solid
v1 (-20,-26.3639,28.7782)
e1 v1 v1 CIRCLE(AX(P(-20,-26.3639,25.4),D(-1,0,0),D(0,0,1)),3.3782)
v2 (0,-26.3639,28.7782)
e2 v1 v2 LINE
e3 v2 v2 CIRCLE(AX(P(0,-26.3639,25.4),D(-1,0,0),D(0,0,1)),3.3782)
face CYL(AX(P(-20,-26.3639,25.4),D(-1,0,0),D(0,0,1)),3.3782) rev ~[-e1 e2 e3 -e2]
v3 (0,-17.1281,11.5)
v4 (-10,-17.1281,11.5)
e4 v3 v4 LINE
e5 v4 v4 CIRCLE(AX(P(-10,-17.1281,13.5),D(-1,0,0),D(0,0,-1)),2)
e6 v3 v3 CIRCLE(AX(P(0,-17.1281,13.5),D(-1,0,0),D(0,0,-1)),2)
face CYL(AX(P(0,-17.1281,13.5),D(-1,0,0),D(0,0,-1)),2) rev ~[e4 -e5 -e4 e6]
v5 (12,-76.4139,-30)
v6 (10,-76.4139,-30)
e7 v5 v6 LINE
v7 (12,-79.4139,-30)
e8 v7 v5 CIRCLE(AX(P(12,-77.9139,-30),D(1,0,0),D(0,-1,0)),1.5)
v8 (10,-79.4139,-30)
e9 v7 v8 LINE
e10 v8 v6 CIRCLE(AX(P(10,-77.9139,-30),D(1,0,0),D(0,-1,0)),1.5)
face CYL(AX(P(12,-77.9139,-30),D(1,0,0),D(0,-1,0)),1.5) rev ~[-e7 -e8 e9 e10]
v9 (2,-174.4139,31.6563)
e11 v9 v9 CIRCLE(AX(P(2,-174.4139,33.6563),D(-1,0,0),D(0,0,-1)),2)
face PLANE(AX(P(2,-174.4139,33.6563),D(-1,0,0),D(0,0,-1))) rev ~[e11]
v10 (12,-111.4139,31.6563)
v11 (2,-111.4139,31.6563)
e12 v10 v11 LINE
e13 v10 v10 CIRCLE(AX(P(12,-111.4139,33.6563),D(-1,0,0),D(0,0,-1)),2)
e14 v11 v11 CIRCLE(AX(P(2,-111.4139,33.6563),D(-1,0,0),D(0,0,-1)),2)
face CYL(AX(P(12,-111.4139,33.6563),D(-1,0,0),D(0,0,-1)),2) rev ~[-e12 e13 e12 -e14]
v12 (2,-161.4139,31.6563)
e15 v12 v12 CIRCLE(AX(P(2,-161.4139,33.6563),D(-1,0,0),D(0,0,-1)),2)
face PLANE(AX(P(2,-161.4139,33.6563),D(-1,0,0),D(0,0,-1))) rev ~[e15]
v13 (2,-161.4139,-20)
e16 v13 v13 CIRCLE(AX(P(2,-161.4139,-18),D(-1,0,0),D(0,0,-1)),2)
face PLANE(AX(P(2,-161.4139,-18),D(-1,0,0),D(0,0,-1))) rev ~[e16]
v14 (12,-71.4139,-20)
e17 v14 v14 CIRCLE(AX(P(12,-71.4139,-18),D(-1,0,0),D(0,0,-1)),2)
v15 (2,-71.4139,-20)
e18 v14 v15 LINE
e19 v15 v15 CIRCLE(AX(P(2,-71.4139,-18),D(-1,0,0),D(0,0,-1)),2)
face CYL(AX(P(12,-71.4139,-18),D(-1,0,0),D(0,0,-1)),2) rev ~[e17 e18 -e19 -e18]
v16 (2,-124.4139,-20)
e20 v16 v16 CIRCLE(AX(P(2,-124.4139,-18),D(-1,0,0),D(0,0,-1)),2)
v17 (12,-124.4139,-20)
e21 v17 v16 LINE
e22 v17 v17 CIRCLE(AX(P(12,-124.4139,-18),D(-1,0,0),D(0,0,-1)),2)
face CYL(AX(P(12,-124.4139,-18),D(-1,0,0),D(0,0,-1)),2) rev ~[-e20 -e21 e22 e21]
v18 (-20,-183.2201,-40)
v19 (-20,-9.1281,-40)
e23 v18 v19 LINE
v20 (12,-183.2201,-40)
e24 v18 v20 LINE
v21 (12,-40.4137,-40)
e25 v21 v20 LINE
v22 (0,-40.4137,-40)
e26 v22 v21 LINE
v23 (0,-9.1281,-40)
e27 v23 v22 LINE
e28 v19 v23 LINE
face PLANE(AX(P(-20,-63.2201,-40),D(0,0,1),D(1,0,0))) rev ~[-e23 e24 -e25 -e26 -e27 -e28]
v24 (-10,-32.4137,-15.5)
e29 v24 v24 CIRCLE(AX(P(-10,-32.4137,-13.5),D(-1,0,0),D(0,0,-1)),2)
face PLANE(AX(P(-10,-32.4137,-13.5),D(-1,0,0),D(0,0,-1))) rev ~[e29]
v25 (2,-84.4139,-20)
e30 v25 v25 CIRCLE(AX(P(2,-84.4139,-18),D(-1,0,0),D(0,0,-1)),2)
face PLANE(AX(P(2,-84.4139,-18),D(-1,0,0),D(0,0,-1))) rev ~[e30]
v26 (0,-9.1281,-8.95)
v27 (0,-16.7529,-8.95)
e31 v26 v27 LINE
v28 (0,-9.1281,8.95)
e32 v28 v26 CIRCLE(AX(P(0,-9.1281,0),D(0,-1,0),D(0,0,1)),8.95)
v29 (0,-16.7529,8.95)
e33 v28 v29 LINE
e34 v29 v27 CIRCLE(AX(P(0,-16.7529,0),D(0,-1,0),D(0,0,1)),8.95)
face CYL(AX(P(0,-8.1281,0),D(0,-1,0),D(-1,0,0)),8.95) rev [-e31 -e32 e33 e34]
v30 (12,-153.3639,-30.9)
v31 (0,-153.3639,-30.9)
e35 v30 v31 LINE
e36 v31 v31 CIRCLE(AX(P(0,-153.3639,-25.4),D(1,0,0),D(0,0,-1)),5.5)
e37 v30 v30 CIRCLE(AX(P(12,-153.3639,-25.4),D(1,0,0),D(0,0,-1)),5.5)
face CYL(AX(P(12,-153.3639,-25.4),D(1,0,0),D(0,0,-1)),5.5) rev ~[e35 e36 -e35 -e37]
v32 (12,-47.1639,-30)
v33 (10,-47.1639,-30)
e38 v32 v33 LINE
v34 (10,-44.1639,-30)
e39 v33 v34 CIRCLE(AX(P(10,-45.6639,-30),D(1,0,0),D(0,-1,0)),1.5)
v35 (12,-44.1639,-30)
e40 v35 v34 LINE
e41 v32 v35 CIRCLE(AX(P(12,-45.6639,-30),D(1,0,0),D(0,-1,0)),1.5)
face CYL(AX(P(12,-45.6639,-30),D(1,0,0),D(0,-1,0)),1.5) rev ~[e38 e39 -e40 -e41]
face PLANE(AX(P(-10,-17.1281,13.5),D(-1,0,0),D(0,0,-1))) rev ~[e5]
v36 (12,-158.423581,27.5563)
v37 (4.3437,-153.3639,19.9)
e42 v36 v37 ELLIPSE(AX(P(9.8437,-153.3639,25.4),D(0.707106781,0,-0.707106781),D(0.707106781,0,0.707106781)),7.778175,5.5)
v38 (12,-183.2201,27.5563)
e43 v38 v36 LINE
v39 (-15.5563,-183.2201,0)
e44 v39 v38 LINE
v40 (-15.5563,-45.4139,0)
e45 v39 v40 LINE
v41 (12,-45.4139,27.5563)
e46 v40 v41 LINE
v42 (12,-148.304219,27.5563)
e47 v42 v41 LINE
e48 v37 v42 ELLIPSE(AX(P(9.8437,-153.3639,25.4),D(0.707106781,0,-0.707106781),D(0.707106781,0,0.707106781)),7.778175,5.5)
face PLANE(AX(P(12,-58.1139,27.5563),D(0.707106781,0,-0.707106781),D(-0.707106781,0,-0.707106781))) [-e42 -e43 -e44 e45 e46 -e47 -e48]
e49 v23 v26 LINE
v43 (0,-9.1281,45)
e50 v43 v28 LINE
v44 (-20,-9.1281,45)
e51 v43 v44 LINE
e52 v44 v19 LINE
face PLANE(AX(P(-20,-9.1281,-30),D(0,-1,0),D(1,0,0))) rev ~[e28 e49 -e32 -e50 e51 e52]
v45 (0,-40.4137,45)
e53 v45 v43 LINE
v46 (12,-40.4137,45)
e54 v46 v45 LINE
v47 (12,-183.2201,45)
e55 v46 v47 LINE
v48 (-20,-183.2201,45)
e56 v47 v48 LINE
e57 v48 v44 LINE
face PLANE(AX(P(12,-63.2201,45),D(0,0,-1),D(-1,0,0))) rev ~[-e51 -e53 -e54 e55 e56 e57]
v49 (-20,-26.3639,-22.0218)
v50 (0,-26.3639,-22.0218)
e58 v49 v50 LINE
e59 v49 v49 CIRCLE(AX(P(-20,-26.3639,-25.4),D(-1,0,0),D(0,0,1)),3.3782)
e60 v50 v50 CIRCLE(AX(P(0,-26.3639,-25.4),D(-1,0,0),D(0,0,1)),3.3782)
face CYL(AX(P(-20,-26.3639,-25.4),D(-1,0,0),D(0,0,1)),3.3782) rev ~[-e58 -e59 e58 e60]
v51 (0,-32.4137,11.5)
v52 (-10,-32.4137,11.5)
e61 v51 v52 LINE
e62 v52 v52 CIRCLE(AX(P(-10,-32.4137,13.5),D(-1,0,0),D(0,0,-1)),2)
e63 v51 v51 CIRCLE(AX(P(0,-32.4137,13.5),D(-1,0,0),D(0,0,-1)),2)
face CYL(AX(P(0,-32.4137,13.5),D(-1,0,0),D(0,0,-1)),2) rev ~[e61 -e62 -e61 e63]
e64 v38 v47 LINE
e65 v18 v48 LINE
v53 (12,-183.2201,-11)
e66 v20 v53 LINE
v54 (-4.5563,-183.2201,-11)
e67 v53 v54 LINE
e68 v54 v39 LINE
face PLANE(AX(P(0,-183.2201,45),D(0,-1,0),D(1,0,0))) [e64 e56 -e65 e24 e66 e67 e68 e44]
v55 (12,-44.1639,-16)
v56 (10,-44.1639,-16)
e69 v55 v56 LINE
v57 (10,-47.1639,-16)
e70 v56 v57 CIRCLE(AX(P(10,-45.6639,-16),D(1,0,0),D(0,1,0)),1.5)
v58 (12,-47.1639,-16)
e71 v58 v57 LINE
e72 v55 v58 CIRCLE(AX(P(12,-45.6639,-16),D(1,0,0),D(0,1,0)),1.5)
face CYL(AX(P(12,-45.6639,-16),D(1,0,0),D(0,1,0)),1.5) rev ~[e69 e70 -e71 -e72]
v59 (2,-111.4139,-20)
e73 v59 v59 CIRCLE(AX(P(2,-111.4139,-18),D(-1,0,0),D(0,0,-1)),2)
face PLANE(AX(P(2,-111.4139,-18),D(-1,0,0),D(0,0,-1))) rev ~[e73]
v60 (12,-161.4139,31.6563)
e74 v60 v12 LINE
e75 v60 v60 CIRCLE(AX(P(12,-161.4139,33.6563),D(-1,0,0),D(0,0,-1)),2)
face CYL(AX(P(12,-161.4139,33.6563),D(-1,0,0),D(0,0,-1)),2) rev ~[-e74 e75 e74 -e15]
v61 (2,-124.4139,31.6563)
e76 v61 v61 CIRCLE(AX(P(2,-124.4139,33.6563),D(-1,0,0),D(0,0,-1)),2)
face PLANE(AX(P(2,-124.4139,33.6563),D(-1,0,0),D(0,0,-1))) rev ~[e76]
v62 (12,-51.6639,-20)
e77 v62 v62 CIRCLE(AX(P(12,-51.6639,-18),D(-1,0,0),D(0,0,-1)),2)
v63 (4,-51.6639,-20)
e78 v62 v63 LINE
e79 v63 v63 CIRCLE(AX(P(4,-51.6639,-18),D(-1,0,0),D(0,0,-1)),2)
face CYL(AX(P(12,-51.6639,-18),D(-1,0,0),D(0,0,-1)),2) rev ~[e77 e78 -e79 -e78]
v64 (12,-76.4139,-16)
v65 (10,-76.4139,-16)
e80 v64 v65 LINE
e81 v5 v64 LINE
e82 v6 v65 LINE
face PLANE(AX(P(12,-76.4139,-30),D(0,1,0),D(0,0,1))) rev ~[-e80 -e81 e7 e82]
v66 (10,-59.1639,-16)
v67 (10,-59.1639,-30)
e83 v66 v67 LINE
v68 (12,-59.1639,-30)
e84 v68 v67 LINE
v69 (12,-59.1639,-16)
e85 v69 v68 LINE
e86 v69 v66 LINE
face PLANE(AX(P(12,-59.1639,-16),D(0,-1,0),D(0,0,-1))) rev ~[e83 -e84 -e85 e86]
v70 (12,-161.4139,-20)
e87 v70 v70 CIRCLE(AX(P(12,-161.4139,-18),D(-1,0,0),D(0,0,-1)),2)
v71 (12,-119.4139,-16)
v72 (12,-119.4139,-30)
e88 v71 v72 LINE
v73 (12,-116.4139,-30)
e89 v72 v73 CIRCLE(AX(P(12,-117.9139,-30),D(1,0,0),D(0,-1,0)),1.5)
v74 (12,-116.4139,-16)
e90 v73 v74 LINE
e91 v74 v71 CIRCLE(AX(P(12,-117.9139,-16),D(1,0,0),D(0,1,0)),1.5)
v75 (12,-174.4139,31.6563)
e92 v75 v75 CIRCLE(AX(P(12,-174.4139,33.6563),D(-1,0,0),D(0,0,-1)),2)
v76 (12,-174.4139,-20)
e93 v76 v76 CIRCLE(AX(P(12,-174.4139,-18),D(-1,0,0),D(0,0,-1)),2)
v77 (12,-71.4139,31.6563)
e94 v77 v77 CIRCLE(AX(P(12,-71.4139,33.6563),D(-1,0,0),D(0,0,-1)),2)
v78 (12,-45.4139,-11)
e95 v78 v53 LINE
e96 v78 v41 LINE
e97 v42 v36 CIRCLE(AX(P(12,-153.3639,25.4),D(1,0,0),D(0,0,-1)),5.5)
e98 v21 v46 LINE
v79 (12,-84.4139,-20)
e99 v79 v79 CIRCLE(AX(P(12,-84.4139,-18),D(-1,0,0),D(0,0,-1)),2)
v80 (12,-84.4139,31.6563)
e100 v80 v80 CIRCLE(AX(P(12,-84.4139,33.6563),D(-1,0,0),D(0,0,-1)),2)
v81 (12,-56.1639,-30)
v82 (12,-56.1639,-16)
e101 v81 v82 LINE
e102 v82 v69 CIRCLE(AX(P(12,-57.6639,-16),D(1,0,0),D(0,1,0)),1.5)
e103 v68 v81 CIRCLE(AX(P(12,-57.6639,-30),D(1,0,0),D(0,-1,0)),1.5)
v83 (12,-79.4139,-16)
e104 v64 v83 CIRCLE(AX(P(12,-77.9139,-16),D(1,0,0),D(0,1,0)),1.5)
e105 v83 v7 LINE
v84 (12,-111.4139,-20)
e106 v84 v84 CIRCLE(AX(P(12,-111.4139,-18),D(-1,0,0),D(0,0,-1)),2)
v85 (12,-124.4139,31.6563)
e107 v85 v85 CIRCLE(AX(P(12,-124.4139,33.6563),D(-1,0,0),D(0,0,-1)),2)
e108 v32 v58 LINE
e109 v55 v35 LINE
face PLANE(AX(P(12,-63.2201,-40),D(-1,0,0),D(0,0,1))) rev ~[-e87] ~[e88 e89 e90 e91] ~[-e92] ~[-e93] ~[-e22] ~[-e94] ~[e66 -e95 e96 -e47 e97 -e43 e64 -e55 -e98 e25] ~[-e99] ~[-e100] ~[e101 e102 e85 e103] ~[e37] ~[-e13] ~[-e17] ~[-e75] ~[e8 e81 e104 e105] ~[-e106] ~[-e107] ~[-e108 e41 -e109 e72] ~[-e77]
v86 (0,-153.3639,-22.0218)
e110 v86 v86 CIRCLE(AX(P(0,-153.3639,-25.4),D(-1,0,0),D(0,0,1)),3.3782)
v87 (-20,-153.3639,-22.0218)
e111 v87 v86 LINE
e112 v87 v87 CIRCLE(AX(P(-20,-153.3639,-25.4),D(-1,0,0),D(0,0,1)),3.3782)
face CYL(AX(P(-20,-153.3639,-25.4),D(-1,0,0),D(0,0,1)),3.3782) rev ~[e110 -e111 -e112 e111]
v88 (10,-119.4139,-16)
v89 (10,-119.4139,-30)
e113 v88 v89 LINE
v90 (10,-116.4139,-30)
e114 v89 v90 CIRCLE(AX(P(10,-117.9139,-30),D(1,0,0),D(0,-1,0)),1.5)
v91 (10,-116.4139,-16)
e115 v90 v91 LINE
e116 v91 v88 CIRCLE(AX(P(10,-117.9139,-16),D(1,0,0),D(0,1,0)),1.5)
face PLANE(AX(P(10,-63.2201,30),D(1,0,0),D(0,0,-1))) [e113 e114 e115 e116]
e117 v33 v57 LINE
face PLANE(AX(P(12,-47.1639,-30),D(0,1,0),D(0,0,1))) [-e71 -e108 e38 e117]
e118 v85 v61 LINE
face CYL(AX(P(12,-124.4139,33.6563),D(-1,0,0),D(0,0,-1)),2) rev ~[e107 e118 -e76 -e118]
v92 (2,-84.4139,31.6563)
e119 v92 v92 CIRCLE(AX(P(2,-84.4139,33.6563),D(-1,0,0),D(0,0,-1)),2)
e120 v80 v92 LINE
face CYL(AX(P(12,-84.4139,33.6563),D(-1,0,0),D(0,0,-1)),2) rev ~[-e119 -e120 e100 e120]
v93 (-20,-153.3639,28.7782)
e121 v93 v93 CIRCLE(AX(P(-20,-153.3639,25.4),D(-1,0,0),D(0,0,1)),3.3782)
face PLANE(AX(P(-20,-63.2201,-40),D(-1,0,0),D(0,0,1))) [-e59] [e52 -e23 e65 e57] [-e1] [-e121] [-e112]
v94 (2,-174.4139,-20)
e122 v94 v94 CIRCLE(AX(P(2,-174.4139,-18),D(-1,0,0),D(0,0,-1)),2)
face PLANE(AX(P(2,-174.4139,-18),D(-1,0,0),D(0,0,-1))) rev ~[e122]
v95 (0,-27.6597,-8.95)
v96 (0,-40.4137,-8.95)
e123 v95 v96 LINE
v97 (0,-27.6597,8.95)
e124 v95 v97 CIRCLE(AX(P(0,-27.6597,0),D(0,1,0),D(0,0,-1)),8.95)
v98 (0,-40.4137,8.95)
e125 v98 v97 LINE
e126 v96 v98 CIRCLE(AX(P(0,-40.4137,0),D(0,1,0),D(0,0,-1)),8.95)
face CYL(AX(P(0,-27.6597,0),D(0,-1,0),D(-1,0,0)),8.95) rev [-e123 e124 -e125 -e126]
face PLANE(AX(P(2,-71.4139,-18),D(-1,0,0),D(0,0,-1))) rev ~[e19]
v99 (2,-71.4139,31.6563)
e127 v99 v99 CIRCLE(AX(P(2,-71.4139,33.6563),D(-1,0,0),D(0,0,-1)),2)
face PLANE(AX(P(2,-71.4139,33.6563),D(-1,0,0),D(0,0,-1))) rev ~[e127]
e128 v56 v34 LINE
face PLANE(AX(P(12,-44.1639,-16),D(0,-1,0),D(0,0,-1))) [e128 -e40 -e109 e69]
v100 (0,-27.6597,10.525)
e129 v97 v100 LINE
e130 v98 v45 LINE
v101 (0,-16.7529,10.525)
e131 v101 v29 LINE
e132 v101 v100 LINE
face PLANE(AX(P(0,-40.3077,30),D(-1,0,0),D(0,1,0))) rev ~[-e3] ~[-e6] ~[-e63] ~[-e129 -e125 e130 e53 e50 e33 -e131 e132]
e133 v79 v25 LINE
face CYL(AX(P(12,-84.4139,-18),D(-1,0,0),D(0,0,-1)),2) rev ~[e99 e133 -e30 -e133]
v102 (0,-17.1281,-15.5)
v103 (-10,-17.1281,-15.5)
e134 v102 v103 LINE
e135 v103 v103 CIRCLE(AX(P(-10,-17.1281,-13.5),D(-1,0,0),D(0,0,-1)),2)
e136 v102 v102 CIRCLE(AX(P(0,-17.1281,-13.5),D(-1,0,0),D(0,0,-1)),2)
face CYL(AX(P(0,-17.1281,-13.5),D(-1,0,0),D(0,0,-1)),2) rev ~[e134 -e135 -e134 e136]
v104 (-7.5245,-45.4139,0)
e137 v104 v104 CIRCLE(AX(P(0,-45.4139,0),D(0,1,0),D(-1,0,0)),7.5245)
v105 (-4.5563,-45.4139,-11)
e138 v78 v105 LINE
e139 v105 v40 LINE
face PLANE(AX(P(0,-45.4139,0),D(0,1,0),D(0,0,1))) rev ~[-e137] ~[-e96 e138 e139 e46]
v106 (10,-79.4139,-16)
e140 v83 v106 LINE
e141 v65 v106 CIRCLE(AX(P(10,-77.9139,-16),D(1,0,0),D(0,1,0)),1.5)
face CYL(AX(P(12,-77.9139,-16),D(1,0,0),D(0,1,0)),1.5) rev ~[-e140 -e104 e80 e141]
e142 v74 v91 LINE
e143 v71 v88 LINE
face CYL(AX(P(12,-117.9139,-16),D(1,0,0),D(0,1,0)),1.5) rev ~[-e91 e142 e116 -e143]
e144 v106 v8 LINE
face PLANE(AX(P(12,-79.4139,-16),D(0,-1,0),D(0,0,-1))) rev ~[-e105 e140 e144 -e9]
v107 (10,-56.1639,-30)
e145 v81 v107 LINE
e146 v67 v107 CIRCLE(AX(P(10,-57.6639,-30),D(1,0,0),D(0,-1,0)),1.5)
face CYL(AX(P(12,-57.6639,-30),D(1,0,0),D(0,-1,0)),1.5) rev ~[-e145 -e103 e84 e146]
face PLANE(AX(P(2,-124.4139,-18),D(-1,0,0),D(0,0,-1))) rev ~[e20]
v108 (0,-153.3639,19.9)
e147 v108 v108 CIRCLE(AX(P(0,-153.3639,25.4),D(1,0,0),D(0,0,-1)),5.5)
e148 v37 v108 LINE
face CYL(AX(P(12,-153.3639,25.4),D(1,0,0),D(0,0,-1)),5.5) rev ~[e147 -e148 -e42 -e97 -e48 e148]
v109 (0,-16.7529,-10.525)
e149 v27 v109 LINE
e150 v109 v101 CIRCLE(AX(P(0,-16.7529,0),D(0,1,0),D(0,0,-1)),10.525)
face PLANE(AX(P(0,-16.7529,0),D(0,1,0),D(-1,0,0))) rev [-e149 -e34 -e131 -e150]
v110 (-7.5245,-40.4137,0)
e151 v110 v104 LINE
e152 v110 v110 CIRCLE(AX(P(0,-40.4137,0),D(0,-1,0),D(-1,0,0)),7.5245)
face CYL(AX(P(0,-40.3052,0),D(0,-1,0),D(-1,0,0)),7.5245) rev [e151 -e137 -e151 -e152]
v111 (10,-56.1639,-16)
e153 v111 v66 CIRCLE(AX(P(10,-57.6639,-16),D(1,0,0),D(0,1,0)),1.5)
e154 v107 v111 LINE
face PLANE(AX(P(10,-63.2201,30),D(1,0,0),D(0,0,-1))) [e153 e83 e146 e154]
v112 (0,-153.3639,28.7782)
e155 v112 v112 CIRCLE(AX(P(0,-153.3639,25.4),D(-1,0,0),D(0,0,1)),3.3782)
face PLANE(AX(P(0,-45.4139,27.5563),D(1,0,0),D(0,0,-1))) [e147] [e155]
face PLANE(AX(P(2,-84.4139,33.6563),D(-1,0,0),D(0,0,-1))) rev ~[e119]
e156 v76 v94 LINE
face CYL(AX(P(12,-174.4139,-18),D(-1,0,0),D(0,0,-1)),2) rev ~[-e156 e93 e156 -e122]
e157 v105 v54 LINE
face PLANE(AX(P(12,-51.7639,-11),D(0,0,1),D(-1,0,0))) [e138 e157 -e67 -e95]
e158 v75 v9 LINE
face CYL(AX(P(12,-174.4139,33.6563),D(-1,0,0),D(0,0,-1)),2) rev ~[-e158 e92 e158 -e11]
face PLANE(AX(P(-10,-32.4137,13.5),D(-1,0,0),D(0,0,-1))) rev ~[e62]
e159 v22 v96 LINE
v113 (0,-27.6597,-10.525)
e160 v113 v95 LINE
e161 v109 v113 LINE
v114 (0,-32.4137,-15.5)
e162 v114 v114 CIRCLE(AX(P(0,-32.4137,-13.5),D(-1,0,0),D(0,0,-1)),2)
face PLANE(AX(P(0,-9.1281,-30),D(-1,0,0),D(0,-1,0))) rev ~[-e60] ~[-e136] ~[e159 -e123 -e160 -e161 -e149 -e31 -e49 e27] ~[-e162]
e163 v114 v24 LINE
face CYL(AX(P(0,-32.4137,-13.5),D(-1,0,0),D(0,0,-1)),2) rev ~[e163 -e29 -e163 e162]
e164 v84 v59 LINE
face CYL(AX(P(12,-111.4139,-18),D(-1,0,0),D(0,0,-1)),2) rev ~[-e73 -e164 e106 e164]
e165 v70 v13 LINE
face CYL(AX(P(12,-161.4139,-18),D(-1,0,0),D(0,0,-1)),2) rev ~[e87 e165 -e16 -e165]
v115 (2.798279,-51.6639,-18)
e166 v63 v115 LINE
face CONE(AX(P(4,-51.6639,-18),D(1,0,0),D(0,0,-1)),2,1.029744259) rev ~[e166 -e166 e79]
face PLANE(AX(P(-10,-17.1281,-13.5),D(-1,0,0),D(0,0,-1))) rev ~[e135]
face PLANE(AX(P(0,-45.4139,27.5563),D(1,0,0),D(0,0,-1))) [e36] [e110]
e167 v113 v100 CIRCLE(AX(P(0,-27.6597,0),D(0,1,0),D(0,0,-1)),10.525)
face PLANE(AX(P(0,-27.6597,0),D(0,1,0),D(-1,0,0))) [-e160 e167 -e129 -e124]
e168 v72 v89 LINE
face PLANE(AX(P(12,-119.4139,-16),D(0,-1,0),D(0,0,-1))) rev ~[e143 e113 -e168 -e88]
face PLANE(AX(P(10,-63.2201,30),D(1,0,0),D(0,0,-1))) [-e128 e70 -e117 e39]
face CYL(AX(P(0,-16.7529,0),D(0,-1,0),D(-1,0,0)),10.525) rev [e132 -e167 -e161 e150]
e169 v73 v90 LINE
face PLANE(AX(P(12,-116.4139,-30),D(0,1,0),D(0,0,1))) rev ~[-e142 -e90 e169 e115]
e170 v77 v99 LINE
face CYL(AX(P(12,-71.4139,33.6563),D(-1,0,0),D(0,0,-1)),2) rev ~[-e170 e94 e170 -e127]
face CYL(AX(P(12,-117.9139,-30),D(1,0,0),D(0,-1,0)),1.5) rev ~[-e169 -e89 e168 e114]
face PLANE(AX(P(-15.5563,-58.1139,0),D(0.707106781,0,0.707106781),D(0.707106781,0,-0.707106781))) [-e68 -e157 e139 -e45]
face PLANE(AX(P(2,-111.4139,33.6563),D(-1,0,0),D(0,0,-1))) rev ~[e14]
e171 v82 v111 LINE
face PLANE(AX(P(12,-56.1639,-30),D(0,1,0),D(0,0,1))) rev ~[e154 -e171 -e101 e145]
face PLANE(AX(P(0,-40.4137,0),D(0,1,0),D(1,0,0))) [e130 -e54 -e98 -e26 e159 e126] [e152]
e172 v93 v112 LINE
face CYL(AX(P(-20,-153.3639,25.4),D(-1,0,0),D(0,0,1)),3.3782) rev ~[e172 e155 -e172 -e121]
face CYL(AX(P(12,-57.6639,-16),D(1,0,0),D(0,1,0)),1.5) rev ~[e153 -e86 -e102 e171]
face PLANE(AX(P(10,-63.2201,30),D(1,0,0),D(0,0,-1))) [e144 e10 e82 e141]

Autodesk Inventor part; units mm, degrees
ref_plane "Work Plane1" through (0, 0, 0) normal (0, 0, 1) x (1, 0, 0)
sketch "Sketch1" plane through (0, 0, 0) normal (0, 0, 1) x (1, 0, 0)
  line L0 (0, 352.2455) -> (0, -445.9232) construction
  line L1 (-20, -9.1281) -> (0, -9.1281)
  line L2 (0, -9.1281) -> (0, -40.3077)
  line L3 (0, -89.1281) -> (-20, -89.1281)
  line L4 (-20, -89.1281) -> (-20, -9.1281)
  line L5 (8.89, -89.1281) -> (-8.89, -89.1281) construction
  line L6 (-18.4, -51.7639) -> (33.4, -51.7639) construction
  line L7 (0, -40.3077) -> (12, -40.3077)
  line L8 (12, -40.3077) -> (12, -63.2201)
  line L9 (12, -63.2201) -> (0, -63.2201)
  line L10 (-8.636, -40.3077) -> (8.636, -40.3077) construction
  line L11 (8.636, -63.2201) -> (-8.636, -63.2201) construction
  line L12 (0, -63.2201) -> (0, -89.1281)
  point P0 (0, 0)
  point P1 (0, -63.2201)
  dimension "d0" = 80
  dimension "d1" = 20
  dimension "d4" = 0
  dimension "d5" = 0
  dimension "d6" = 12
extrude "Main Block" add sketch "Sketch1" along normal mid plane 60
ref_plane "Work Plane2" through (0, -51.7639, 0) normal (0, 1, 0) x (0, 0, 1)
ref_plane "Work Plane3" through (-11, -58.2639, -11) normal (0, -1, 0) x (1, 0, 0)
sketch "Sketch3" plane through (0, -51.7639, 0) normal (0, 1, 0) x (0, 0, 1)
  circle A0 centre (0, 0) radius 11 construction
  line L0 (-30, -20) -> (-30, 12) construction
  line L1 (30, 12) -> (30, -20) construction
  line L2 (30, -20) -> (-30, -20) construction
  line L3 (-11, 12) -> (-11, -4.5563)
  line L4 (0, 18.4) -> (0, -26.4) construction
  line L5 (-11, -4.5563) -> (0, -15.5563)
  line L6 (0, -15.5563) -> (27.5563, 12)
  line L7 (-11, 12) -> (27.5563, 12)
  line L8 (-30, 12) -> (30, 12) projected
  point P0 (0, 0)
  dimension "d8" = 90
extrude "Cuvette Cutout" cut sketch "Sketch3" along normal mid plane 12.7
sketch "Sketch4" plane through (0, 0, 0) normal (0, 0, 1) x (1, 0, 0)
  line L0 (-20, -89.1281) -> (-20, -9.1281) construction
  line L1 (-20, -9.1281) -> (0, -9.1281) construction
  line L2 (0, -9.1281) -> (0, -40.3077) construction
  line L3 (0, -40.3077) -> (12, -40.3077) construction
  line L4 (12, -40.3077) -> (12, -45.4139) construction
  line L5 (12, -45.4139) -> (-15.5563, -45.4139) construction
  line L6 (-15.5563, -45.4139) -> (-15.5563, -58.1139) construction
  line L7 (-15.5563, -58.1139) -> (12, -58.1139) construction
  line L8 (12, -63.2201) -> (0, -63.2201) construction
  line L9 (0, -63.2201) -> (0, -89.1281) construction
  line L10 (0, -89.1281) -> (-20, -89.1281) construction
  line L11 (6.3373, -3.5336) -> (6.3373, -4.2956) construction
  line L12 (6.3373, -4.2956) -> (7.2136, -4.2956) construction
  line L13 (7.2136, -4.2956) -> (7.2136, -4.321) construction
  line L14 (7.2136, -4.321) -> (8.2067, -4.321) construction
  spline S0 degree 3 poles (8.2067, -4.321) (8.2067, -4.3168) (8.2067, -4.3125) (8.2067, -4.3041) (8.2067, -4.2998) (8.2067, -4.2956) knots -0.00254 -0.00254 -0.00254 -0.00254 -0.00127 -0.00127 0 0 0 0 construction
  line L15 (8.2067, -4.2956) -> (8.636, -4.2956) construction
  line L16 (8.636, -4.2956) -> (8.89, -4.5496) construction
  line L17 (8.89, -4.5496) -> (8.89, -17.5036) construction
  line L18 (8.89, -17.5036) -> (8.636, -17.7576) construction
  line L19 (8.636, -17.7576) -> (7.0485, -17.7576) construction
  line L20 (7.0485, -17.7576) -> (6.7945, -17.3177) construction
  line L21 (6.7945, -17.3177) -> (6.7945, -5.4386) construction
  line L22 (6.7945, -5.4386) -> (7.1755, -5.4386) construction
  line L23 (7.1755, -5.4386) -> (7.1755, -5.0576) construction
  line L24 (7.1755, -5.0576) -> (5.715, -5.0576) construction
  line L25 (5.715, -5.0576) -> (5.715, -2.5176) construction
  line L26 (5.715, -2.5176) -> (5.969, -2.2636) construction
  line L27 (5.969, -2.2636) -> (6.5405, -2.2636) construction
  line L28 (6.5405, -2.2636) -> (6.7945, -2.7035) construction
  line L29 (6.7945, -2.7035) -> (6.7945, -3.5336) construction
  line L30 (6.7945, -3.5336) -> (6.3373, -3.5336) construction
  line L31 (-7.6987, -4.2956) -> (-7.3452, -4.2956) construction
  spline S1 degree 3 poles (-7.3452, -4.2956) (-7.3452, -4.2998) (-7.3452, -4.3041) (-7.3452, -4.3125) (-7.3452, -4.3168) (-7.3452, -4.321) knots -0.00254 -0.00254 -0.00254 -0.00254 -0.00127 -0.00127 0 0 0 0 construction
  line L32 (-7.3452, -4.321) -> (-7.2079, -4.321) construction
  spline S2 degree 3 poles (-7.2079, -4.321) (-7.2079, -4.3168) (-7.2079, -4.3125) (-7.2079, -4.3041) (-7.2079, -4.2998) (-7.2079, -4.2956) knots -0.00254 -0.00254 -0.00254 -0.00254 -0.00127 -0.00127 0 0 0 0 construction
  line L33 (-7.2079, -4.2956) -> (-6.3373, -4.2956) construction
  line L34 (-6.3373, -4.2956) -> (-6.3373, -3.5336) construction
  line L35 (-6.3373, -3.5336) -> (-6.7945, -3.5336) construction
  line L36 (-6.7945, -3.5336) -> (-6.7945, -2.7035) construction
  line L37 (-6.7945, -2.7035) -> (-6.5405, -2.2636) construction
  line L38 (-6.5405, -2.2636) -> (-5.969, -2.2636) construction
  line L39 (-5.969, -2.2636) -> (-5.715, -2.5176) construction
  line L40 (-5.715, -2.5176) -> (-5.715, -5.0576) construction
  line L41 (-5.715, -5.0576) -> (-7.1755, -5.0576) construction
  line L42 (-7.1755, -5.0576) -> (-7.1755, -5.4386) construction
  line L43 (-7.1755, -5.4386) -> (-6.7945, -5.4386) construction
  line L44 (-6.7945, -5.4386) -> (-6.7945, -17.3177) construction
  line L45 (-6.7945, -17.3177) -> (-7.0485, -17.7576) construction
  line L46 (-7.0485, -17.7576) -> (-8.636, -17.7576) construction
  line L47 (-8.636, -17.7576) -> (-8.89, -17.5036) construction
  line L48 (-8.89, -17.5036) -> (-8.89, -4.5496) construction
  line L49 (-8.89, -4.5496) -> (-8.636, -4.2956) construction
  line L50 (-8.636, -4.2956) -> (-8.2209, -4.2956) construction
  line L51 (-8.2209, -4.2956) -> (-8.2209, -4.321) construction
  line L52 (-8.2209, -4.321) -> (-7.6987, -4.321) construction
  spline S3 degree 3 poles (-7.6987, -4.321) (-7.6987, -4.3168) (-7.6987, -4.3125) (-7.6987, -4.3041) (-7.6987, -4.2998) (-7.6987, -4.2956) knots -0.00254 -0.00254 -0.00254 -0.00254 -0.00127 -0.00127 0 0 0 0 construction
  line L53 (-9.271, -21.089) -> (-9.525, -20.835) construction
  line L54 (-9.525, -20.835) -> (-9.525, -18.549) construction
  line L55 (-9.525, -18.549) -> (-9.271, -18.295) construction
  line L56 (-9.271, -18.295) -> (-7.0485, -18.295) construction
  line L57 (-7.0485, -18.295) -> (-6.7945, -18.7349) construction
  line L58 (-6.7945, -18.7349) -> (-6.7945, -20.6491) construction
  line L59 (-6.7945, -20.6491) -> (-7.0485, -21.089) construction
  line L60 (-7.0485, -21.089) -> (-9.271, -21.089) construction
  line L61 (9.525, -20.835) -> (9.271, -21.089) construction
  line L62 (9.271, -21.089) -> (7.0485, -21.089) construction
  line L63 (7.0485, -21.089) -> (6.7945, -20.6491) construction
  line L64 (6.7945, -20.6491) -> (6.7945, -18.7349) construction
  line L65 (6.7945, -18.7349) -> (7.0485, -18.295) construction
  line L66 (7.0485, -18.295) -> (9.271, -18.295) construction
  line L67 (9.271, -18.295) -> (9.525, -18.549) construction
  line L68 (9.525, -18.549) -> (9.525, -20.835) construction
  line L69 (6.096, -26.0837) -> (6.096, -26.8457) construction
  line L70 (6.096, -26.8457) -> (8.636, -26.8457) construction
  line L71 (8.636, -26.8457) -> (8.89, -27.0997) construction
  line L72 (8.89, -27.0997) -> (8.89, -40.0537) construction
  line L73 (8.89, -40.0537) -> (8.636, -40.3077) construction
  line L74 (8.636, -40.3077) -> (8.3609, -40.3077) construction
  spline S4 degree 3 poles (8.3609, -40.3077) (8.3609, -40.3073) (8.3609, -40.3068) (8.3609, -40.306) (8.3609, -40.3056) (8.3609, -40.3052) knots -0.000254 -0.000254 -0.000254 -0.000254 -0.000127 -0.000127 0 0 0 0 construction
  line L75 (8.3609, -40.3052) -> (7.239, -40.3052) construction
  spline S5 degree 3 poles (7.239, -40.3052) (7.239, -40.3056) (7.239, -40.306) (7.239, -40.3068) (7.239, -40.3073) (7.239, -40.3077) knots -0.000254 -0.000254 -0.000254 -0.000254 -0.000127 -0.000127 0 0 0 0 construction
  line L76 (7.239, -40.3077) -> (7.0485, -40.3077) construction
  line L77 (7.0485, -40.3077) -> (6.7945, -39.8678) construction
  line L78 (6.7945, -39.8678) -> (6.7945, -27.9887) construction
  line L79 (6.7945, -27.9887) -> (7.112, -27.9887) construction
  line L80 (7.112, -27.9887) -> (7.112, -27.6077) construction
  line L81 (7.112, -27.6077) -> (5.715, -27.6077) construction
  line L82 (5.715, -27.6077) -> (5.715, -14.1457) construction
  line L83 (5.715, -14.1457) -> (6.5405, -14.1457) construction
  line L84 (6.5405, -14.1457) -> (6.7945, -14.5856) construction
  line L85 (6.7945, -14.5856) -> (6.7945, -26.0837) construction
  line L86 (6.7945, -26.0837) -> (6.096, -26.0837) construction
  line L87 (-7.428, -40.3077) -> (-7.8325, -40.3077) construction
  spline S6 degree 3 poles (-7.8325, -40.3077) (-7.8325, -40.3073) (-7.8325, -40.3068) (-7.8325, -40.306) (-7.8325, -40.3056) (-7.8325, -40.3052) knots -0.000254 -0.000254 -0.000254 -0.000254 -0.000127 -0.000127 0 0 0 0 construction
  line L88 (-7.8325, -40.3052) -> (-8.3387, -40.3052) construction
  line L89 (-8.3387, -40.3052) -> (-8.3387, -40.3077) construction
  line L90 (-8.3387, -40.3077) -> (-8.636, -40.3077) construction
  line L91 (-8.636, -40.3077) -> (-8.89, -40.0537) construction
  line L92 (-8.89, -40.0537) -> (-8.89, -27.0997) construction
  line L93 (-8.89, -27.0997) -> (-8.636, -26.8457) construction
  line L94 (-8.636, -26.8457) -> (-6.096, -26.8457) construction
  line L95 (-6.096, -26.8457) -> (-6.096, -26.0837) construction
  line L96 (-6.096, -26.0837) -> (-6.7945, -26.0837) construction
  line L97 (-6.7945, -26.0837) -> (-6.7945, -14.5856) construction
  line L98 (-6.7945, -14.5856) -> (-6.5405, -14.1457) construction
  line L99 (-6.5405, -14.1457) -> (-5.715, -14.1457) construction
  line L100 (-5.715, -14.1457) -> (-5.715, -27.6077) construction
  line L101 (-5.715, -27.6077) -> (-7.112, -27.6077) construction
  line L102 (-7.112, -27.6077) -> (-7.112, -27.9887) construction
  line L103 (-7.112, -27.9887) -> (-6.7945, -27.9887) construction
  line L104 (-6.7945, -27.9887) -> (-6.7945, -39.8678) construction
  line L105 (-6.7945, -39.8678) -> (-7.0485, -40.3077) construction
  line L106 (-7.0485, -40.3077) -> (-7.3053, -40.3077) construction
  spline S7 degree 3 poles (-7.3053, -40.3077) (-7.3053, -40.3073) (-7.3053, -40.3068) (-7.3053, -40.306) (-7.3053, -40.3056) (-7.3053, -40.3052) knots -0.000254 -0.000254 -0.000254 -0.000254 -0.000127 -0.000127 0 0 0 0 construction
  line L107 (-7.3053, -40.3052) -> (-7.428, -40.3052) construction
  spline S8 degree 3 poles (-7.428, -40.3052) (-7.428, -40.3056) (-7.428, -40.306) (-7.428, -40.3068) (-7.428, -40.3073) (-7.428, -40.3077) knots -0.000254 -0.000254 -0.000254 -0.000254 -0.000127 -0.000127 0 0 0 0 construction
  line L108 (-8.95, -8.1281) -> (-8.95, -16.7529)
  line L109 (-8.95, -16.7529) -> (-10.525, -16.7529)
  line L110 (-10.525, -16.7529) -> (-10.525, -27.6597)
  line L111 (-10.525, -27.6597) -> (-8.95, -27.6597)
  line L112 (-8.95, -27.6597) -> (-8.95, -40.3052)
  line L113 (-20, -9.1281) -> (0, -9.1281) construction
  line L114 (-5.5245, -76.2329) -> (-5.5245, -31.3309) construction
  arc A0 (-5.5245, -31.3309) -> (5.5245, -31.3309) centre (0, 12.4923) ccw construction
  line L115 (5.5245, -31.3309) -> (5.5245, -76.2329) construction
  line L116 (-7.5245, -40.3052) -> (-7.5245, -45.4139)
  line L117 (-8.95, -40.3052) -> (-7.5245, -40.3052)
  line L118 (-7.5245, -45.4139) -> (0, -45.4139)
  line L119 (0, -45.4139) -> (0, -8.1281)
  line L120 (0, -8.1281) -> (-8.95, -8.1281)
  line L121 (12, -58.1139) -> (12, -63.2201) projected
  point P0 (0, 0)
  dimension "d12" = 1
  dimension "d14" = 0
  dimension "d16" = 1
  dimension "d73" = 1.4255
  dimension "d74" = 2
  dimension "d138" = 0.06
  dimension "d139" = 0.06
revolve "Lens Tubes Cutout" cut sketch "Sketch4" angle 360 about axis through (0, -45.4139, 0) along (0, 1, 0)
sketch "Sketch8" plane through (0, 0, 30) normal (0, 0, 1) x (1, 0, 0)
  line L0 (-20, -89.1281) -> (0, -89.1281) projected
  line L1 (0, -89.1281) -> (0, -63.2201) projected
  line L2 (0, -63.2201) -> (12, -63.2201) projected
  line L3 (12, -63.2201) -> (12, -40.3077) projected
  line L4 (12, -40.3077) -> (0, -40.3077) projected
  line L5 (0, -40.3077) -> (0, -9.1281) projected
  line L6 (0, -9.1281) -> (-20, -9.1281) projected
  line L7 (-20, -9.1281) -> (-20, -89.1281) projected
  point P0 (0, 0)
extrude "Extend Base Front" add sketch "Sketch8" along normal blind 15
sketch "Sketch9" plane through (0, 0, -30) normal (0, 0, -1) x (-1, 0, 0)
  line L0 (0, -89.1281) -> (20, -89.1281) projected
  line L1 (20, -89.1281) -> (20, -9.1281) projected
  line L2 (20, -9.1281) -> (0, -9.1281) projected
  line L3 (0, -9.1281) -> (0, -40.3077) projected
  line L4 (0, -40.3077) -> (-12, -40.3077) projected
  line L5 (-12, -40.3077) -> (-12, -63.2201) projected
  line L6 (-12, -63.2201) -> (0, -63.2201) projected
  line L7 (0, -63.2201) -> (0, -89.1281) projected
  point P0 (0, 0)
extrude "Extend Base Back" add sketch "Sketch9" along normal blind 10
sketch "Sketch12" plane through (0, -63.2201, 45) normal (0, -1, 0) x (1, 0, 0)
  line L0 (12, -85) -> (12, 0) projected
  line L1 (-20, -85) -> (-20, 0) projected
  line L2 (12, 0) -> (-20, 0)
  line L3 (-20, 0) -> (-20, -85)
  line L4 (-20, -85) -> (12, -85)
  line L5 (12, -85) -> (12, 0)
  point P0 (0, -45)
extrude "Extend Block For Adjustable" add sketch "Sketch12" along normal blind 120
sketch "Sketch13" plane through (0, -58.1139, 0) normal (0, 1, 0) x (1, 0, 0)
  line L0 (-4.5563, 11) -> (12, 11) projected
  line L1 (-15.5563, 0) -> (-4.5563, 11) projected
  line L2 (12, -27.5563) -> (-15.5563, 0) projected
  line L3 (12, 11) -> (12, -27.5563) projected
  point P0 (0, 0)
extrude "Extend Cuvette Cutout" cut sketch "Sketch13" against normal through all
sketch "Sketch10" plane through (-20, -89.1281, 45) normal (-1, 0, 0) x (0, 0, 1)
  line L0 (-45, 120.4765) -> (-45, -98.9624) construction
  line L1 (-102, 37.3642) -> (17, 37.3642) construction
  circle A0 centre (-19.6, 62.7642) radius 3.3782
  circle A1 centre (-19.6, -64.2358) radius 3.3782
  circle A2 centre (-70.4, 62.7642) radius 3.3782
  circle A3 centre (-70.4, -64.2358) radius 3.3782
  point P0 (-45, 89.1281)
  point P1 (-45, 37.3642)
  dimension "d102" = 6.7564
  dimension "d105" = 25.4
  dimension "d106" = 25.4
  dimension "d107" = 6.7564
  dimension "d108" = 25.4
  dimension "d109" = 101.6
extrude "Breadboard Holes" cut sketch "Sketch10" against normal through all
sketch "Sketch17" plane through (12, -45.4139, 27.5563) normal (1, 0, 0) x (0, 0, -1)
  circle A0 centre (52.9563, -107.95) radius 3.3782 construction
  circle A1 centre (52.9563, -107.95) radius 3.3782 construction
  arc A2 (0, -110.5505) -> (0, -105.3495) centre (2.1563, -107.95) ccw construction
  arc A3 (0, -105.3495) -> (0, -110.5505) centre (2.1563, -107.95) ccw construction
  circle A4 centre (2.1563, -107.95) radius 3.3782 construction
  circle A5 centre (52.9563, -107.95) radius 5.5
  circle A6 centre (2.1563, -107.95) radius 5.5
  point P0 (27.5563, 45.4139)
  dimension "d110" = 11
  dimension "d111" = 11
extrude "Counterbore Breadboard Holes" cut sketch "Sketch17" against normal up to surface (12 mm away)
sketch "Sketch15" plane through (12, -45.4139, 27.5563) normal (1, 0, 0) x (0, 0, -1)
  line L0 (-4.35, -131.5) -> (-4.35, -126.5) construction
  arc A0 (-4.35, -126.5) -> (-7.85, -126.5) centre (-6.1, -126.5) ccw construction
  line L1 (-7.85, -126.5) -> (-7.85, -131.5) construction
  arc A1 (-7.85, -131.5) -> (-4.35, -131.5) centre (-6.1, -131.5) ccw construction
  line L2 (-4.35, -118.5) -> (-4.35, -113.5) construction
  arc A2 (-4.35, -113.5) -> (-7.85, -113.5) centre (-6.1, -113.5) ccw construction
  line L3 (-7.85, -113.5) -> (-7.85, -118.5) construction
  arc A3 (-7.85, -118.5) -> (-4.35, -118.5) centre (-6.1, -118.5) ccw construction
  line L4 (-13.4437, -107.5) -> (-13.4437, -137.5) construction
  line L5 (0.9, -107.5) -> (0.9, -137.5) construction
  line L6 (84.5563, -102.5) -> (-34.4437, -102.5) construction
  line L7 (84.5563, -52.5) -> (-34.4437, -52.5) construction
  line L8 (84.5563, -12.5) -> (-34.4437, -12.5) construction
  line L9 (-13.4437, -107.5) -> (0.9, -107.5) projected
  line L10 (-6.1, -138.1825) -> (-6.1, -12.5) construction
  line L11 (19.7282, -102.5) -> (19.7282, -137.5) construction
  line L12 (-4.35, -113.5) -> (-7.85, -118.5) construction
  line L13 (-4.35, -126.5) -> (-7.85, -131.5) construction
  line L14 (-13.4437, -137.5) -> (0.9, -137.5) projected
  point P0 (27.5563, 45.4139)
  point P1 (-16.4437, -102.5)
  point P2 (0.9, -102.5)
  point P3 (38.5563, -102.5)
  point P4 (55.9, -102.5)
  point P5 (-6.1, -116)
  point P6 (-6.1, -129)
  point P7 (-6.1, -66)
  point P8 (-6.1, -79)
  point P9 (-6.1, -26)
  point P10 (-6.1, -39)
  point P11 (45.5563, -116)
  point P12 (45.5563, -129)
  point P13 (45.5563, -66)
  point P14 (45.5563, -79)
  point P15 (45.5563, -26)
  point P16 (45.5563, -39)
  dimension "d84" = 13.5
  dimension "d85" = 13
  dimension "d86" = 13.5
  dimension "d87" = 13
  dimension "d88" = 13.5
  dimension "d89" = 13
hole "Holes for Rcv Holddown M3 Inserts" at (12, -161.4139, 33.6563) at (12, -174.4139, 33.6563) at (12, -111.4139, 33.6563) at (12, -124.4139, 33.6563) at (12, -71.4139, 33.6563) at (12, -84.4139, 33.6563) at (12, -71.4139, -18) at (12, -84.4139, -18) at (12, -111.4139, -18) at (12, -124.4139, -18) at (12, -161.4139, -18) at (12, -174.4139, -18) direction (-1, 0, 0) diameter 4 depth 10
sketch "Sketch20" plane through (0, -40.3077, 0) normal (0, 1, 0) x (1, 0, 0)
  arc A0 (0, -7.5245) -> (0, 7.5245) centre (0, 0) ccw projected
  line L0 (0, -7.5245) -> (0, -45) projected
  line L1 (12, -45) -> (0, -45) projected
  line L2 (12, 40) -> (12, -45) projected
  line L3 (0, 40) -> (12, 40) projected
  line L4 (0, 40) -> (0, 7.5245) projected
  line L5 (0, 8.95) -> (0, 7.5245) projected
  arc A1 (0, 8.95) -> (0, -8.95) centre (0, 0) ccw projected
  line L6 (0, -7.5245) -> (0, -8.95) projected
  arc A2 (0, 7.5245) -> (0, -7.5245) centre (0, 0) ccw projected
  point P0 (0, 0)
  point P1 (0, -8.95)
  point P2 (0, 8.95)
extrude "Trim Transmit Bulkhead to 5mm" cut sketch "Sketch20" along normal blind 0.1 and the other way blind 0.106 contours A0 L4 L3 L2 L1 L0 | L0 A1 L4 A2
sketch "Sketch21" plane through (0, -27.6597, 10.525) normal (1, 0, 0) x (0, 0, -1)
  circle A0 centre (-2.975, 10.5316) radius 1.75 construction
  circle A1 centre (-2.975, -4.754) radius 1.75 construction
  circle A2 centre (24.025, -4.754) radius 1.75 construction
  circle A3 centre (24.025, 10.5316) radius 1.75 construction
  point P0 (10.525, 27.6597)
hole "Holes for Trans Holddown M3 Inserts" at (0, -17.1281, 13.5) at (0, -32.4137, 13.5) at (0, -32.4137, -13.5) at (0, -17.1281, -13.5) direction (-1, 0, 0) diameter 4 depth 10
sketch "Sketch5" plane through (12, -63.2201, 30) normal (1, 0, 0) x (0, 0, -1)
  line L0 (60, 11.5562) -> (41, 11.5562) construction
  line L1 (41, 13.9562) -> (41, 8.9562)
  line L2 (67.0766, 5.5562) -> (41, 5.5562) construction
  line L3 (60, -80.0818) -> (60, 22.9228) construction
  line L4 (46, -81.4007) -> (46, 22.5472) construction
  line L5 (46, 5.5562) -> (60, 5.5562) construction
  line L6 (46, 4.0562) -> (60, 4.0562)
  line L7 (60, 7.0562) -> (46, 7.0562)
  arc A0 (46, 7.0562) -> (46, 4.0562) centre (46, 5.5562) ccw
  arc A1 (60, 4.0562) -> (60, 7.0562) centre (60, 5.5562) ccw
  line L8 (46, 19.0562) -> (60, 19.0562)
  line L9 (60, 16.0562) -> (46, 16.0562)
  arc A2 (46, 19.0562) -> (46, 16.0562) centre (46, 17.5562) ccw
  arc A3 (60, 16.0562) -> (60, 19.0562) centre (60, 17.5562) ccw
  line L10 (41, 5.3062) -> (19, 5.3062) construction
  line L11 (41, 17.8062) -> (19, 17.8062) construction
  line L12 (41, 5.3062) -> (41, 17.8062) construction
  line L13 (14.6, 11.5562) -> (45.4, 11.5562) construction
  line L14 (65.9522, 0.3062) -> (43.1094, 0.3062) construction
  line L15 (70, 22.8064) -> (70, -120) construction
  circle A4 centre (48, -8.1938) radius 2 construction
  circle A5 centre (48, -21.1938) radius 2 construction
  circle A6 centre (48, -48.1938) radius 2 construction
  circle A7 centre (48, -61.1938) radius 2 construction
  line L16 (48, -8.1938) -> (48, -21.1938) construction
  line L17 (48, -48.1938) -> (48, -61.1938) construction
  line L18 (46, -14.6938) -> (60, -14.6938) construction
  line L19 (46, -16.1938) -> (60, -16.1938)
  line L20 (60, -13.1938) -> (46, -13.1938)
  arc A8 (46, -13.1938) -> (46, -16.1938) centre (46, -14.6938) ccw
  arc A9 (60, -16.1938) -> (60, -13.1938) centre (60, -14.6938) ccw
  line L21 (46, -54.6938) -> (60, -54.6938) construction
  line L22 (46, -56.1938) -> (60, -56.1938)
  line L23 (60, -53.1938) -> (46, -53.1938)
  arc A10 (46, -53.1938) -> (46, -56.1938) centre (46, -54.6938) ccw
  arc A11 (60, -56.1938) -> (60, -53.1938) centre (60, -54.6938) ccw
  point P0 (30, 63.2201)
  point P1 (50.5, 17.5562)
  point P2 (53, 5.5562)
  point P3 (48, -14.6938)
  point P4 (48, -54.6938)
  point P5 (53, -14.6938)
  point P6 (53, -54.6938)
  dimension "d30" = 6
  dimension "d31" = 6
  dimension "d131" = 5
  dimension "d132" = 5
  dimension "d133" = 10
  dimension "d135" = 3
  dimension "d136" = 3
  dimension "d137" = 3
extrude "Slots for Cuvette Aligners" cut sketch "Sketch5" against normal blind 2
sketch "Sketch6" plane through (12, -63.2201, 30) normal (1, 0, 0) x (0, 0, -1)
  circle A0 centre (48, -8.1938) radius 2 construction
  circle A1 centre (48, -21.1938) radius 2 construction
  line L0 (48, 22.1251) -> (48, -56.6234) construction
  line L1 (60, 16.0562) -> (46, 16.0562) construction
  line L2 (46, 7.0562) -> (60, 7.0562) construction
  line L3 (14.6, 11.5562) -> (45.4, 11.5562) construction
  line L4 (45.4, 11.5562) -> (48, 11.5562) construction
  point P0 (30, 63.2201)
hole "Hole for 10mm Cuvette Aligner M3 Insert" at (12, -51.6639, -18) direction (-1, 0, 0) diameter 4 depth 8 tip angle 118
equation "\"d107\" = d102"
equation "\"d108\" = d105"
equation "\"d111\" = d110"
equation "\"d86\" = d84"
equation "\"d87\" = d85"
equation "\"d88\" = d84"
equation "\"d89\" = d85"
equation "\"d31\" = d30"
properties part number "Cuvette Holder Adjustable Transmit"
